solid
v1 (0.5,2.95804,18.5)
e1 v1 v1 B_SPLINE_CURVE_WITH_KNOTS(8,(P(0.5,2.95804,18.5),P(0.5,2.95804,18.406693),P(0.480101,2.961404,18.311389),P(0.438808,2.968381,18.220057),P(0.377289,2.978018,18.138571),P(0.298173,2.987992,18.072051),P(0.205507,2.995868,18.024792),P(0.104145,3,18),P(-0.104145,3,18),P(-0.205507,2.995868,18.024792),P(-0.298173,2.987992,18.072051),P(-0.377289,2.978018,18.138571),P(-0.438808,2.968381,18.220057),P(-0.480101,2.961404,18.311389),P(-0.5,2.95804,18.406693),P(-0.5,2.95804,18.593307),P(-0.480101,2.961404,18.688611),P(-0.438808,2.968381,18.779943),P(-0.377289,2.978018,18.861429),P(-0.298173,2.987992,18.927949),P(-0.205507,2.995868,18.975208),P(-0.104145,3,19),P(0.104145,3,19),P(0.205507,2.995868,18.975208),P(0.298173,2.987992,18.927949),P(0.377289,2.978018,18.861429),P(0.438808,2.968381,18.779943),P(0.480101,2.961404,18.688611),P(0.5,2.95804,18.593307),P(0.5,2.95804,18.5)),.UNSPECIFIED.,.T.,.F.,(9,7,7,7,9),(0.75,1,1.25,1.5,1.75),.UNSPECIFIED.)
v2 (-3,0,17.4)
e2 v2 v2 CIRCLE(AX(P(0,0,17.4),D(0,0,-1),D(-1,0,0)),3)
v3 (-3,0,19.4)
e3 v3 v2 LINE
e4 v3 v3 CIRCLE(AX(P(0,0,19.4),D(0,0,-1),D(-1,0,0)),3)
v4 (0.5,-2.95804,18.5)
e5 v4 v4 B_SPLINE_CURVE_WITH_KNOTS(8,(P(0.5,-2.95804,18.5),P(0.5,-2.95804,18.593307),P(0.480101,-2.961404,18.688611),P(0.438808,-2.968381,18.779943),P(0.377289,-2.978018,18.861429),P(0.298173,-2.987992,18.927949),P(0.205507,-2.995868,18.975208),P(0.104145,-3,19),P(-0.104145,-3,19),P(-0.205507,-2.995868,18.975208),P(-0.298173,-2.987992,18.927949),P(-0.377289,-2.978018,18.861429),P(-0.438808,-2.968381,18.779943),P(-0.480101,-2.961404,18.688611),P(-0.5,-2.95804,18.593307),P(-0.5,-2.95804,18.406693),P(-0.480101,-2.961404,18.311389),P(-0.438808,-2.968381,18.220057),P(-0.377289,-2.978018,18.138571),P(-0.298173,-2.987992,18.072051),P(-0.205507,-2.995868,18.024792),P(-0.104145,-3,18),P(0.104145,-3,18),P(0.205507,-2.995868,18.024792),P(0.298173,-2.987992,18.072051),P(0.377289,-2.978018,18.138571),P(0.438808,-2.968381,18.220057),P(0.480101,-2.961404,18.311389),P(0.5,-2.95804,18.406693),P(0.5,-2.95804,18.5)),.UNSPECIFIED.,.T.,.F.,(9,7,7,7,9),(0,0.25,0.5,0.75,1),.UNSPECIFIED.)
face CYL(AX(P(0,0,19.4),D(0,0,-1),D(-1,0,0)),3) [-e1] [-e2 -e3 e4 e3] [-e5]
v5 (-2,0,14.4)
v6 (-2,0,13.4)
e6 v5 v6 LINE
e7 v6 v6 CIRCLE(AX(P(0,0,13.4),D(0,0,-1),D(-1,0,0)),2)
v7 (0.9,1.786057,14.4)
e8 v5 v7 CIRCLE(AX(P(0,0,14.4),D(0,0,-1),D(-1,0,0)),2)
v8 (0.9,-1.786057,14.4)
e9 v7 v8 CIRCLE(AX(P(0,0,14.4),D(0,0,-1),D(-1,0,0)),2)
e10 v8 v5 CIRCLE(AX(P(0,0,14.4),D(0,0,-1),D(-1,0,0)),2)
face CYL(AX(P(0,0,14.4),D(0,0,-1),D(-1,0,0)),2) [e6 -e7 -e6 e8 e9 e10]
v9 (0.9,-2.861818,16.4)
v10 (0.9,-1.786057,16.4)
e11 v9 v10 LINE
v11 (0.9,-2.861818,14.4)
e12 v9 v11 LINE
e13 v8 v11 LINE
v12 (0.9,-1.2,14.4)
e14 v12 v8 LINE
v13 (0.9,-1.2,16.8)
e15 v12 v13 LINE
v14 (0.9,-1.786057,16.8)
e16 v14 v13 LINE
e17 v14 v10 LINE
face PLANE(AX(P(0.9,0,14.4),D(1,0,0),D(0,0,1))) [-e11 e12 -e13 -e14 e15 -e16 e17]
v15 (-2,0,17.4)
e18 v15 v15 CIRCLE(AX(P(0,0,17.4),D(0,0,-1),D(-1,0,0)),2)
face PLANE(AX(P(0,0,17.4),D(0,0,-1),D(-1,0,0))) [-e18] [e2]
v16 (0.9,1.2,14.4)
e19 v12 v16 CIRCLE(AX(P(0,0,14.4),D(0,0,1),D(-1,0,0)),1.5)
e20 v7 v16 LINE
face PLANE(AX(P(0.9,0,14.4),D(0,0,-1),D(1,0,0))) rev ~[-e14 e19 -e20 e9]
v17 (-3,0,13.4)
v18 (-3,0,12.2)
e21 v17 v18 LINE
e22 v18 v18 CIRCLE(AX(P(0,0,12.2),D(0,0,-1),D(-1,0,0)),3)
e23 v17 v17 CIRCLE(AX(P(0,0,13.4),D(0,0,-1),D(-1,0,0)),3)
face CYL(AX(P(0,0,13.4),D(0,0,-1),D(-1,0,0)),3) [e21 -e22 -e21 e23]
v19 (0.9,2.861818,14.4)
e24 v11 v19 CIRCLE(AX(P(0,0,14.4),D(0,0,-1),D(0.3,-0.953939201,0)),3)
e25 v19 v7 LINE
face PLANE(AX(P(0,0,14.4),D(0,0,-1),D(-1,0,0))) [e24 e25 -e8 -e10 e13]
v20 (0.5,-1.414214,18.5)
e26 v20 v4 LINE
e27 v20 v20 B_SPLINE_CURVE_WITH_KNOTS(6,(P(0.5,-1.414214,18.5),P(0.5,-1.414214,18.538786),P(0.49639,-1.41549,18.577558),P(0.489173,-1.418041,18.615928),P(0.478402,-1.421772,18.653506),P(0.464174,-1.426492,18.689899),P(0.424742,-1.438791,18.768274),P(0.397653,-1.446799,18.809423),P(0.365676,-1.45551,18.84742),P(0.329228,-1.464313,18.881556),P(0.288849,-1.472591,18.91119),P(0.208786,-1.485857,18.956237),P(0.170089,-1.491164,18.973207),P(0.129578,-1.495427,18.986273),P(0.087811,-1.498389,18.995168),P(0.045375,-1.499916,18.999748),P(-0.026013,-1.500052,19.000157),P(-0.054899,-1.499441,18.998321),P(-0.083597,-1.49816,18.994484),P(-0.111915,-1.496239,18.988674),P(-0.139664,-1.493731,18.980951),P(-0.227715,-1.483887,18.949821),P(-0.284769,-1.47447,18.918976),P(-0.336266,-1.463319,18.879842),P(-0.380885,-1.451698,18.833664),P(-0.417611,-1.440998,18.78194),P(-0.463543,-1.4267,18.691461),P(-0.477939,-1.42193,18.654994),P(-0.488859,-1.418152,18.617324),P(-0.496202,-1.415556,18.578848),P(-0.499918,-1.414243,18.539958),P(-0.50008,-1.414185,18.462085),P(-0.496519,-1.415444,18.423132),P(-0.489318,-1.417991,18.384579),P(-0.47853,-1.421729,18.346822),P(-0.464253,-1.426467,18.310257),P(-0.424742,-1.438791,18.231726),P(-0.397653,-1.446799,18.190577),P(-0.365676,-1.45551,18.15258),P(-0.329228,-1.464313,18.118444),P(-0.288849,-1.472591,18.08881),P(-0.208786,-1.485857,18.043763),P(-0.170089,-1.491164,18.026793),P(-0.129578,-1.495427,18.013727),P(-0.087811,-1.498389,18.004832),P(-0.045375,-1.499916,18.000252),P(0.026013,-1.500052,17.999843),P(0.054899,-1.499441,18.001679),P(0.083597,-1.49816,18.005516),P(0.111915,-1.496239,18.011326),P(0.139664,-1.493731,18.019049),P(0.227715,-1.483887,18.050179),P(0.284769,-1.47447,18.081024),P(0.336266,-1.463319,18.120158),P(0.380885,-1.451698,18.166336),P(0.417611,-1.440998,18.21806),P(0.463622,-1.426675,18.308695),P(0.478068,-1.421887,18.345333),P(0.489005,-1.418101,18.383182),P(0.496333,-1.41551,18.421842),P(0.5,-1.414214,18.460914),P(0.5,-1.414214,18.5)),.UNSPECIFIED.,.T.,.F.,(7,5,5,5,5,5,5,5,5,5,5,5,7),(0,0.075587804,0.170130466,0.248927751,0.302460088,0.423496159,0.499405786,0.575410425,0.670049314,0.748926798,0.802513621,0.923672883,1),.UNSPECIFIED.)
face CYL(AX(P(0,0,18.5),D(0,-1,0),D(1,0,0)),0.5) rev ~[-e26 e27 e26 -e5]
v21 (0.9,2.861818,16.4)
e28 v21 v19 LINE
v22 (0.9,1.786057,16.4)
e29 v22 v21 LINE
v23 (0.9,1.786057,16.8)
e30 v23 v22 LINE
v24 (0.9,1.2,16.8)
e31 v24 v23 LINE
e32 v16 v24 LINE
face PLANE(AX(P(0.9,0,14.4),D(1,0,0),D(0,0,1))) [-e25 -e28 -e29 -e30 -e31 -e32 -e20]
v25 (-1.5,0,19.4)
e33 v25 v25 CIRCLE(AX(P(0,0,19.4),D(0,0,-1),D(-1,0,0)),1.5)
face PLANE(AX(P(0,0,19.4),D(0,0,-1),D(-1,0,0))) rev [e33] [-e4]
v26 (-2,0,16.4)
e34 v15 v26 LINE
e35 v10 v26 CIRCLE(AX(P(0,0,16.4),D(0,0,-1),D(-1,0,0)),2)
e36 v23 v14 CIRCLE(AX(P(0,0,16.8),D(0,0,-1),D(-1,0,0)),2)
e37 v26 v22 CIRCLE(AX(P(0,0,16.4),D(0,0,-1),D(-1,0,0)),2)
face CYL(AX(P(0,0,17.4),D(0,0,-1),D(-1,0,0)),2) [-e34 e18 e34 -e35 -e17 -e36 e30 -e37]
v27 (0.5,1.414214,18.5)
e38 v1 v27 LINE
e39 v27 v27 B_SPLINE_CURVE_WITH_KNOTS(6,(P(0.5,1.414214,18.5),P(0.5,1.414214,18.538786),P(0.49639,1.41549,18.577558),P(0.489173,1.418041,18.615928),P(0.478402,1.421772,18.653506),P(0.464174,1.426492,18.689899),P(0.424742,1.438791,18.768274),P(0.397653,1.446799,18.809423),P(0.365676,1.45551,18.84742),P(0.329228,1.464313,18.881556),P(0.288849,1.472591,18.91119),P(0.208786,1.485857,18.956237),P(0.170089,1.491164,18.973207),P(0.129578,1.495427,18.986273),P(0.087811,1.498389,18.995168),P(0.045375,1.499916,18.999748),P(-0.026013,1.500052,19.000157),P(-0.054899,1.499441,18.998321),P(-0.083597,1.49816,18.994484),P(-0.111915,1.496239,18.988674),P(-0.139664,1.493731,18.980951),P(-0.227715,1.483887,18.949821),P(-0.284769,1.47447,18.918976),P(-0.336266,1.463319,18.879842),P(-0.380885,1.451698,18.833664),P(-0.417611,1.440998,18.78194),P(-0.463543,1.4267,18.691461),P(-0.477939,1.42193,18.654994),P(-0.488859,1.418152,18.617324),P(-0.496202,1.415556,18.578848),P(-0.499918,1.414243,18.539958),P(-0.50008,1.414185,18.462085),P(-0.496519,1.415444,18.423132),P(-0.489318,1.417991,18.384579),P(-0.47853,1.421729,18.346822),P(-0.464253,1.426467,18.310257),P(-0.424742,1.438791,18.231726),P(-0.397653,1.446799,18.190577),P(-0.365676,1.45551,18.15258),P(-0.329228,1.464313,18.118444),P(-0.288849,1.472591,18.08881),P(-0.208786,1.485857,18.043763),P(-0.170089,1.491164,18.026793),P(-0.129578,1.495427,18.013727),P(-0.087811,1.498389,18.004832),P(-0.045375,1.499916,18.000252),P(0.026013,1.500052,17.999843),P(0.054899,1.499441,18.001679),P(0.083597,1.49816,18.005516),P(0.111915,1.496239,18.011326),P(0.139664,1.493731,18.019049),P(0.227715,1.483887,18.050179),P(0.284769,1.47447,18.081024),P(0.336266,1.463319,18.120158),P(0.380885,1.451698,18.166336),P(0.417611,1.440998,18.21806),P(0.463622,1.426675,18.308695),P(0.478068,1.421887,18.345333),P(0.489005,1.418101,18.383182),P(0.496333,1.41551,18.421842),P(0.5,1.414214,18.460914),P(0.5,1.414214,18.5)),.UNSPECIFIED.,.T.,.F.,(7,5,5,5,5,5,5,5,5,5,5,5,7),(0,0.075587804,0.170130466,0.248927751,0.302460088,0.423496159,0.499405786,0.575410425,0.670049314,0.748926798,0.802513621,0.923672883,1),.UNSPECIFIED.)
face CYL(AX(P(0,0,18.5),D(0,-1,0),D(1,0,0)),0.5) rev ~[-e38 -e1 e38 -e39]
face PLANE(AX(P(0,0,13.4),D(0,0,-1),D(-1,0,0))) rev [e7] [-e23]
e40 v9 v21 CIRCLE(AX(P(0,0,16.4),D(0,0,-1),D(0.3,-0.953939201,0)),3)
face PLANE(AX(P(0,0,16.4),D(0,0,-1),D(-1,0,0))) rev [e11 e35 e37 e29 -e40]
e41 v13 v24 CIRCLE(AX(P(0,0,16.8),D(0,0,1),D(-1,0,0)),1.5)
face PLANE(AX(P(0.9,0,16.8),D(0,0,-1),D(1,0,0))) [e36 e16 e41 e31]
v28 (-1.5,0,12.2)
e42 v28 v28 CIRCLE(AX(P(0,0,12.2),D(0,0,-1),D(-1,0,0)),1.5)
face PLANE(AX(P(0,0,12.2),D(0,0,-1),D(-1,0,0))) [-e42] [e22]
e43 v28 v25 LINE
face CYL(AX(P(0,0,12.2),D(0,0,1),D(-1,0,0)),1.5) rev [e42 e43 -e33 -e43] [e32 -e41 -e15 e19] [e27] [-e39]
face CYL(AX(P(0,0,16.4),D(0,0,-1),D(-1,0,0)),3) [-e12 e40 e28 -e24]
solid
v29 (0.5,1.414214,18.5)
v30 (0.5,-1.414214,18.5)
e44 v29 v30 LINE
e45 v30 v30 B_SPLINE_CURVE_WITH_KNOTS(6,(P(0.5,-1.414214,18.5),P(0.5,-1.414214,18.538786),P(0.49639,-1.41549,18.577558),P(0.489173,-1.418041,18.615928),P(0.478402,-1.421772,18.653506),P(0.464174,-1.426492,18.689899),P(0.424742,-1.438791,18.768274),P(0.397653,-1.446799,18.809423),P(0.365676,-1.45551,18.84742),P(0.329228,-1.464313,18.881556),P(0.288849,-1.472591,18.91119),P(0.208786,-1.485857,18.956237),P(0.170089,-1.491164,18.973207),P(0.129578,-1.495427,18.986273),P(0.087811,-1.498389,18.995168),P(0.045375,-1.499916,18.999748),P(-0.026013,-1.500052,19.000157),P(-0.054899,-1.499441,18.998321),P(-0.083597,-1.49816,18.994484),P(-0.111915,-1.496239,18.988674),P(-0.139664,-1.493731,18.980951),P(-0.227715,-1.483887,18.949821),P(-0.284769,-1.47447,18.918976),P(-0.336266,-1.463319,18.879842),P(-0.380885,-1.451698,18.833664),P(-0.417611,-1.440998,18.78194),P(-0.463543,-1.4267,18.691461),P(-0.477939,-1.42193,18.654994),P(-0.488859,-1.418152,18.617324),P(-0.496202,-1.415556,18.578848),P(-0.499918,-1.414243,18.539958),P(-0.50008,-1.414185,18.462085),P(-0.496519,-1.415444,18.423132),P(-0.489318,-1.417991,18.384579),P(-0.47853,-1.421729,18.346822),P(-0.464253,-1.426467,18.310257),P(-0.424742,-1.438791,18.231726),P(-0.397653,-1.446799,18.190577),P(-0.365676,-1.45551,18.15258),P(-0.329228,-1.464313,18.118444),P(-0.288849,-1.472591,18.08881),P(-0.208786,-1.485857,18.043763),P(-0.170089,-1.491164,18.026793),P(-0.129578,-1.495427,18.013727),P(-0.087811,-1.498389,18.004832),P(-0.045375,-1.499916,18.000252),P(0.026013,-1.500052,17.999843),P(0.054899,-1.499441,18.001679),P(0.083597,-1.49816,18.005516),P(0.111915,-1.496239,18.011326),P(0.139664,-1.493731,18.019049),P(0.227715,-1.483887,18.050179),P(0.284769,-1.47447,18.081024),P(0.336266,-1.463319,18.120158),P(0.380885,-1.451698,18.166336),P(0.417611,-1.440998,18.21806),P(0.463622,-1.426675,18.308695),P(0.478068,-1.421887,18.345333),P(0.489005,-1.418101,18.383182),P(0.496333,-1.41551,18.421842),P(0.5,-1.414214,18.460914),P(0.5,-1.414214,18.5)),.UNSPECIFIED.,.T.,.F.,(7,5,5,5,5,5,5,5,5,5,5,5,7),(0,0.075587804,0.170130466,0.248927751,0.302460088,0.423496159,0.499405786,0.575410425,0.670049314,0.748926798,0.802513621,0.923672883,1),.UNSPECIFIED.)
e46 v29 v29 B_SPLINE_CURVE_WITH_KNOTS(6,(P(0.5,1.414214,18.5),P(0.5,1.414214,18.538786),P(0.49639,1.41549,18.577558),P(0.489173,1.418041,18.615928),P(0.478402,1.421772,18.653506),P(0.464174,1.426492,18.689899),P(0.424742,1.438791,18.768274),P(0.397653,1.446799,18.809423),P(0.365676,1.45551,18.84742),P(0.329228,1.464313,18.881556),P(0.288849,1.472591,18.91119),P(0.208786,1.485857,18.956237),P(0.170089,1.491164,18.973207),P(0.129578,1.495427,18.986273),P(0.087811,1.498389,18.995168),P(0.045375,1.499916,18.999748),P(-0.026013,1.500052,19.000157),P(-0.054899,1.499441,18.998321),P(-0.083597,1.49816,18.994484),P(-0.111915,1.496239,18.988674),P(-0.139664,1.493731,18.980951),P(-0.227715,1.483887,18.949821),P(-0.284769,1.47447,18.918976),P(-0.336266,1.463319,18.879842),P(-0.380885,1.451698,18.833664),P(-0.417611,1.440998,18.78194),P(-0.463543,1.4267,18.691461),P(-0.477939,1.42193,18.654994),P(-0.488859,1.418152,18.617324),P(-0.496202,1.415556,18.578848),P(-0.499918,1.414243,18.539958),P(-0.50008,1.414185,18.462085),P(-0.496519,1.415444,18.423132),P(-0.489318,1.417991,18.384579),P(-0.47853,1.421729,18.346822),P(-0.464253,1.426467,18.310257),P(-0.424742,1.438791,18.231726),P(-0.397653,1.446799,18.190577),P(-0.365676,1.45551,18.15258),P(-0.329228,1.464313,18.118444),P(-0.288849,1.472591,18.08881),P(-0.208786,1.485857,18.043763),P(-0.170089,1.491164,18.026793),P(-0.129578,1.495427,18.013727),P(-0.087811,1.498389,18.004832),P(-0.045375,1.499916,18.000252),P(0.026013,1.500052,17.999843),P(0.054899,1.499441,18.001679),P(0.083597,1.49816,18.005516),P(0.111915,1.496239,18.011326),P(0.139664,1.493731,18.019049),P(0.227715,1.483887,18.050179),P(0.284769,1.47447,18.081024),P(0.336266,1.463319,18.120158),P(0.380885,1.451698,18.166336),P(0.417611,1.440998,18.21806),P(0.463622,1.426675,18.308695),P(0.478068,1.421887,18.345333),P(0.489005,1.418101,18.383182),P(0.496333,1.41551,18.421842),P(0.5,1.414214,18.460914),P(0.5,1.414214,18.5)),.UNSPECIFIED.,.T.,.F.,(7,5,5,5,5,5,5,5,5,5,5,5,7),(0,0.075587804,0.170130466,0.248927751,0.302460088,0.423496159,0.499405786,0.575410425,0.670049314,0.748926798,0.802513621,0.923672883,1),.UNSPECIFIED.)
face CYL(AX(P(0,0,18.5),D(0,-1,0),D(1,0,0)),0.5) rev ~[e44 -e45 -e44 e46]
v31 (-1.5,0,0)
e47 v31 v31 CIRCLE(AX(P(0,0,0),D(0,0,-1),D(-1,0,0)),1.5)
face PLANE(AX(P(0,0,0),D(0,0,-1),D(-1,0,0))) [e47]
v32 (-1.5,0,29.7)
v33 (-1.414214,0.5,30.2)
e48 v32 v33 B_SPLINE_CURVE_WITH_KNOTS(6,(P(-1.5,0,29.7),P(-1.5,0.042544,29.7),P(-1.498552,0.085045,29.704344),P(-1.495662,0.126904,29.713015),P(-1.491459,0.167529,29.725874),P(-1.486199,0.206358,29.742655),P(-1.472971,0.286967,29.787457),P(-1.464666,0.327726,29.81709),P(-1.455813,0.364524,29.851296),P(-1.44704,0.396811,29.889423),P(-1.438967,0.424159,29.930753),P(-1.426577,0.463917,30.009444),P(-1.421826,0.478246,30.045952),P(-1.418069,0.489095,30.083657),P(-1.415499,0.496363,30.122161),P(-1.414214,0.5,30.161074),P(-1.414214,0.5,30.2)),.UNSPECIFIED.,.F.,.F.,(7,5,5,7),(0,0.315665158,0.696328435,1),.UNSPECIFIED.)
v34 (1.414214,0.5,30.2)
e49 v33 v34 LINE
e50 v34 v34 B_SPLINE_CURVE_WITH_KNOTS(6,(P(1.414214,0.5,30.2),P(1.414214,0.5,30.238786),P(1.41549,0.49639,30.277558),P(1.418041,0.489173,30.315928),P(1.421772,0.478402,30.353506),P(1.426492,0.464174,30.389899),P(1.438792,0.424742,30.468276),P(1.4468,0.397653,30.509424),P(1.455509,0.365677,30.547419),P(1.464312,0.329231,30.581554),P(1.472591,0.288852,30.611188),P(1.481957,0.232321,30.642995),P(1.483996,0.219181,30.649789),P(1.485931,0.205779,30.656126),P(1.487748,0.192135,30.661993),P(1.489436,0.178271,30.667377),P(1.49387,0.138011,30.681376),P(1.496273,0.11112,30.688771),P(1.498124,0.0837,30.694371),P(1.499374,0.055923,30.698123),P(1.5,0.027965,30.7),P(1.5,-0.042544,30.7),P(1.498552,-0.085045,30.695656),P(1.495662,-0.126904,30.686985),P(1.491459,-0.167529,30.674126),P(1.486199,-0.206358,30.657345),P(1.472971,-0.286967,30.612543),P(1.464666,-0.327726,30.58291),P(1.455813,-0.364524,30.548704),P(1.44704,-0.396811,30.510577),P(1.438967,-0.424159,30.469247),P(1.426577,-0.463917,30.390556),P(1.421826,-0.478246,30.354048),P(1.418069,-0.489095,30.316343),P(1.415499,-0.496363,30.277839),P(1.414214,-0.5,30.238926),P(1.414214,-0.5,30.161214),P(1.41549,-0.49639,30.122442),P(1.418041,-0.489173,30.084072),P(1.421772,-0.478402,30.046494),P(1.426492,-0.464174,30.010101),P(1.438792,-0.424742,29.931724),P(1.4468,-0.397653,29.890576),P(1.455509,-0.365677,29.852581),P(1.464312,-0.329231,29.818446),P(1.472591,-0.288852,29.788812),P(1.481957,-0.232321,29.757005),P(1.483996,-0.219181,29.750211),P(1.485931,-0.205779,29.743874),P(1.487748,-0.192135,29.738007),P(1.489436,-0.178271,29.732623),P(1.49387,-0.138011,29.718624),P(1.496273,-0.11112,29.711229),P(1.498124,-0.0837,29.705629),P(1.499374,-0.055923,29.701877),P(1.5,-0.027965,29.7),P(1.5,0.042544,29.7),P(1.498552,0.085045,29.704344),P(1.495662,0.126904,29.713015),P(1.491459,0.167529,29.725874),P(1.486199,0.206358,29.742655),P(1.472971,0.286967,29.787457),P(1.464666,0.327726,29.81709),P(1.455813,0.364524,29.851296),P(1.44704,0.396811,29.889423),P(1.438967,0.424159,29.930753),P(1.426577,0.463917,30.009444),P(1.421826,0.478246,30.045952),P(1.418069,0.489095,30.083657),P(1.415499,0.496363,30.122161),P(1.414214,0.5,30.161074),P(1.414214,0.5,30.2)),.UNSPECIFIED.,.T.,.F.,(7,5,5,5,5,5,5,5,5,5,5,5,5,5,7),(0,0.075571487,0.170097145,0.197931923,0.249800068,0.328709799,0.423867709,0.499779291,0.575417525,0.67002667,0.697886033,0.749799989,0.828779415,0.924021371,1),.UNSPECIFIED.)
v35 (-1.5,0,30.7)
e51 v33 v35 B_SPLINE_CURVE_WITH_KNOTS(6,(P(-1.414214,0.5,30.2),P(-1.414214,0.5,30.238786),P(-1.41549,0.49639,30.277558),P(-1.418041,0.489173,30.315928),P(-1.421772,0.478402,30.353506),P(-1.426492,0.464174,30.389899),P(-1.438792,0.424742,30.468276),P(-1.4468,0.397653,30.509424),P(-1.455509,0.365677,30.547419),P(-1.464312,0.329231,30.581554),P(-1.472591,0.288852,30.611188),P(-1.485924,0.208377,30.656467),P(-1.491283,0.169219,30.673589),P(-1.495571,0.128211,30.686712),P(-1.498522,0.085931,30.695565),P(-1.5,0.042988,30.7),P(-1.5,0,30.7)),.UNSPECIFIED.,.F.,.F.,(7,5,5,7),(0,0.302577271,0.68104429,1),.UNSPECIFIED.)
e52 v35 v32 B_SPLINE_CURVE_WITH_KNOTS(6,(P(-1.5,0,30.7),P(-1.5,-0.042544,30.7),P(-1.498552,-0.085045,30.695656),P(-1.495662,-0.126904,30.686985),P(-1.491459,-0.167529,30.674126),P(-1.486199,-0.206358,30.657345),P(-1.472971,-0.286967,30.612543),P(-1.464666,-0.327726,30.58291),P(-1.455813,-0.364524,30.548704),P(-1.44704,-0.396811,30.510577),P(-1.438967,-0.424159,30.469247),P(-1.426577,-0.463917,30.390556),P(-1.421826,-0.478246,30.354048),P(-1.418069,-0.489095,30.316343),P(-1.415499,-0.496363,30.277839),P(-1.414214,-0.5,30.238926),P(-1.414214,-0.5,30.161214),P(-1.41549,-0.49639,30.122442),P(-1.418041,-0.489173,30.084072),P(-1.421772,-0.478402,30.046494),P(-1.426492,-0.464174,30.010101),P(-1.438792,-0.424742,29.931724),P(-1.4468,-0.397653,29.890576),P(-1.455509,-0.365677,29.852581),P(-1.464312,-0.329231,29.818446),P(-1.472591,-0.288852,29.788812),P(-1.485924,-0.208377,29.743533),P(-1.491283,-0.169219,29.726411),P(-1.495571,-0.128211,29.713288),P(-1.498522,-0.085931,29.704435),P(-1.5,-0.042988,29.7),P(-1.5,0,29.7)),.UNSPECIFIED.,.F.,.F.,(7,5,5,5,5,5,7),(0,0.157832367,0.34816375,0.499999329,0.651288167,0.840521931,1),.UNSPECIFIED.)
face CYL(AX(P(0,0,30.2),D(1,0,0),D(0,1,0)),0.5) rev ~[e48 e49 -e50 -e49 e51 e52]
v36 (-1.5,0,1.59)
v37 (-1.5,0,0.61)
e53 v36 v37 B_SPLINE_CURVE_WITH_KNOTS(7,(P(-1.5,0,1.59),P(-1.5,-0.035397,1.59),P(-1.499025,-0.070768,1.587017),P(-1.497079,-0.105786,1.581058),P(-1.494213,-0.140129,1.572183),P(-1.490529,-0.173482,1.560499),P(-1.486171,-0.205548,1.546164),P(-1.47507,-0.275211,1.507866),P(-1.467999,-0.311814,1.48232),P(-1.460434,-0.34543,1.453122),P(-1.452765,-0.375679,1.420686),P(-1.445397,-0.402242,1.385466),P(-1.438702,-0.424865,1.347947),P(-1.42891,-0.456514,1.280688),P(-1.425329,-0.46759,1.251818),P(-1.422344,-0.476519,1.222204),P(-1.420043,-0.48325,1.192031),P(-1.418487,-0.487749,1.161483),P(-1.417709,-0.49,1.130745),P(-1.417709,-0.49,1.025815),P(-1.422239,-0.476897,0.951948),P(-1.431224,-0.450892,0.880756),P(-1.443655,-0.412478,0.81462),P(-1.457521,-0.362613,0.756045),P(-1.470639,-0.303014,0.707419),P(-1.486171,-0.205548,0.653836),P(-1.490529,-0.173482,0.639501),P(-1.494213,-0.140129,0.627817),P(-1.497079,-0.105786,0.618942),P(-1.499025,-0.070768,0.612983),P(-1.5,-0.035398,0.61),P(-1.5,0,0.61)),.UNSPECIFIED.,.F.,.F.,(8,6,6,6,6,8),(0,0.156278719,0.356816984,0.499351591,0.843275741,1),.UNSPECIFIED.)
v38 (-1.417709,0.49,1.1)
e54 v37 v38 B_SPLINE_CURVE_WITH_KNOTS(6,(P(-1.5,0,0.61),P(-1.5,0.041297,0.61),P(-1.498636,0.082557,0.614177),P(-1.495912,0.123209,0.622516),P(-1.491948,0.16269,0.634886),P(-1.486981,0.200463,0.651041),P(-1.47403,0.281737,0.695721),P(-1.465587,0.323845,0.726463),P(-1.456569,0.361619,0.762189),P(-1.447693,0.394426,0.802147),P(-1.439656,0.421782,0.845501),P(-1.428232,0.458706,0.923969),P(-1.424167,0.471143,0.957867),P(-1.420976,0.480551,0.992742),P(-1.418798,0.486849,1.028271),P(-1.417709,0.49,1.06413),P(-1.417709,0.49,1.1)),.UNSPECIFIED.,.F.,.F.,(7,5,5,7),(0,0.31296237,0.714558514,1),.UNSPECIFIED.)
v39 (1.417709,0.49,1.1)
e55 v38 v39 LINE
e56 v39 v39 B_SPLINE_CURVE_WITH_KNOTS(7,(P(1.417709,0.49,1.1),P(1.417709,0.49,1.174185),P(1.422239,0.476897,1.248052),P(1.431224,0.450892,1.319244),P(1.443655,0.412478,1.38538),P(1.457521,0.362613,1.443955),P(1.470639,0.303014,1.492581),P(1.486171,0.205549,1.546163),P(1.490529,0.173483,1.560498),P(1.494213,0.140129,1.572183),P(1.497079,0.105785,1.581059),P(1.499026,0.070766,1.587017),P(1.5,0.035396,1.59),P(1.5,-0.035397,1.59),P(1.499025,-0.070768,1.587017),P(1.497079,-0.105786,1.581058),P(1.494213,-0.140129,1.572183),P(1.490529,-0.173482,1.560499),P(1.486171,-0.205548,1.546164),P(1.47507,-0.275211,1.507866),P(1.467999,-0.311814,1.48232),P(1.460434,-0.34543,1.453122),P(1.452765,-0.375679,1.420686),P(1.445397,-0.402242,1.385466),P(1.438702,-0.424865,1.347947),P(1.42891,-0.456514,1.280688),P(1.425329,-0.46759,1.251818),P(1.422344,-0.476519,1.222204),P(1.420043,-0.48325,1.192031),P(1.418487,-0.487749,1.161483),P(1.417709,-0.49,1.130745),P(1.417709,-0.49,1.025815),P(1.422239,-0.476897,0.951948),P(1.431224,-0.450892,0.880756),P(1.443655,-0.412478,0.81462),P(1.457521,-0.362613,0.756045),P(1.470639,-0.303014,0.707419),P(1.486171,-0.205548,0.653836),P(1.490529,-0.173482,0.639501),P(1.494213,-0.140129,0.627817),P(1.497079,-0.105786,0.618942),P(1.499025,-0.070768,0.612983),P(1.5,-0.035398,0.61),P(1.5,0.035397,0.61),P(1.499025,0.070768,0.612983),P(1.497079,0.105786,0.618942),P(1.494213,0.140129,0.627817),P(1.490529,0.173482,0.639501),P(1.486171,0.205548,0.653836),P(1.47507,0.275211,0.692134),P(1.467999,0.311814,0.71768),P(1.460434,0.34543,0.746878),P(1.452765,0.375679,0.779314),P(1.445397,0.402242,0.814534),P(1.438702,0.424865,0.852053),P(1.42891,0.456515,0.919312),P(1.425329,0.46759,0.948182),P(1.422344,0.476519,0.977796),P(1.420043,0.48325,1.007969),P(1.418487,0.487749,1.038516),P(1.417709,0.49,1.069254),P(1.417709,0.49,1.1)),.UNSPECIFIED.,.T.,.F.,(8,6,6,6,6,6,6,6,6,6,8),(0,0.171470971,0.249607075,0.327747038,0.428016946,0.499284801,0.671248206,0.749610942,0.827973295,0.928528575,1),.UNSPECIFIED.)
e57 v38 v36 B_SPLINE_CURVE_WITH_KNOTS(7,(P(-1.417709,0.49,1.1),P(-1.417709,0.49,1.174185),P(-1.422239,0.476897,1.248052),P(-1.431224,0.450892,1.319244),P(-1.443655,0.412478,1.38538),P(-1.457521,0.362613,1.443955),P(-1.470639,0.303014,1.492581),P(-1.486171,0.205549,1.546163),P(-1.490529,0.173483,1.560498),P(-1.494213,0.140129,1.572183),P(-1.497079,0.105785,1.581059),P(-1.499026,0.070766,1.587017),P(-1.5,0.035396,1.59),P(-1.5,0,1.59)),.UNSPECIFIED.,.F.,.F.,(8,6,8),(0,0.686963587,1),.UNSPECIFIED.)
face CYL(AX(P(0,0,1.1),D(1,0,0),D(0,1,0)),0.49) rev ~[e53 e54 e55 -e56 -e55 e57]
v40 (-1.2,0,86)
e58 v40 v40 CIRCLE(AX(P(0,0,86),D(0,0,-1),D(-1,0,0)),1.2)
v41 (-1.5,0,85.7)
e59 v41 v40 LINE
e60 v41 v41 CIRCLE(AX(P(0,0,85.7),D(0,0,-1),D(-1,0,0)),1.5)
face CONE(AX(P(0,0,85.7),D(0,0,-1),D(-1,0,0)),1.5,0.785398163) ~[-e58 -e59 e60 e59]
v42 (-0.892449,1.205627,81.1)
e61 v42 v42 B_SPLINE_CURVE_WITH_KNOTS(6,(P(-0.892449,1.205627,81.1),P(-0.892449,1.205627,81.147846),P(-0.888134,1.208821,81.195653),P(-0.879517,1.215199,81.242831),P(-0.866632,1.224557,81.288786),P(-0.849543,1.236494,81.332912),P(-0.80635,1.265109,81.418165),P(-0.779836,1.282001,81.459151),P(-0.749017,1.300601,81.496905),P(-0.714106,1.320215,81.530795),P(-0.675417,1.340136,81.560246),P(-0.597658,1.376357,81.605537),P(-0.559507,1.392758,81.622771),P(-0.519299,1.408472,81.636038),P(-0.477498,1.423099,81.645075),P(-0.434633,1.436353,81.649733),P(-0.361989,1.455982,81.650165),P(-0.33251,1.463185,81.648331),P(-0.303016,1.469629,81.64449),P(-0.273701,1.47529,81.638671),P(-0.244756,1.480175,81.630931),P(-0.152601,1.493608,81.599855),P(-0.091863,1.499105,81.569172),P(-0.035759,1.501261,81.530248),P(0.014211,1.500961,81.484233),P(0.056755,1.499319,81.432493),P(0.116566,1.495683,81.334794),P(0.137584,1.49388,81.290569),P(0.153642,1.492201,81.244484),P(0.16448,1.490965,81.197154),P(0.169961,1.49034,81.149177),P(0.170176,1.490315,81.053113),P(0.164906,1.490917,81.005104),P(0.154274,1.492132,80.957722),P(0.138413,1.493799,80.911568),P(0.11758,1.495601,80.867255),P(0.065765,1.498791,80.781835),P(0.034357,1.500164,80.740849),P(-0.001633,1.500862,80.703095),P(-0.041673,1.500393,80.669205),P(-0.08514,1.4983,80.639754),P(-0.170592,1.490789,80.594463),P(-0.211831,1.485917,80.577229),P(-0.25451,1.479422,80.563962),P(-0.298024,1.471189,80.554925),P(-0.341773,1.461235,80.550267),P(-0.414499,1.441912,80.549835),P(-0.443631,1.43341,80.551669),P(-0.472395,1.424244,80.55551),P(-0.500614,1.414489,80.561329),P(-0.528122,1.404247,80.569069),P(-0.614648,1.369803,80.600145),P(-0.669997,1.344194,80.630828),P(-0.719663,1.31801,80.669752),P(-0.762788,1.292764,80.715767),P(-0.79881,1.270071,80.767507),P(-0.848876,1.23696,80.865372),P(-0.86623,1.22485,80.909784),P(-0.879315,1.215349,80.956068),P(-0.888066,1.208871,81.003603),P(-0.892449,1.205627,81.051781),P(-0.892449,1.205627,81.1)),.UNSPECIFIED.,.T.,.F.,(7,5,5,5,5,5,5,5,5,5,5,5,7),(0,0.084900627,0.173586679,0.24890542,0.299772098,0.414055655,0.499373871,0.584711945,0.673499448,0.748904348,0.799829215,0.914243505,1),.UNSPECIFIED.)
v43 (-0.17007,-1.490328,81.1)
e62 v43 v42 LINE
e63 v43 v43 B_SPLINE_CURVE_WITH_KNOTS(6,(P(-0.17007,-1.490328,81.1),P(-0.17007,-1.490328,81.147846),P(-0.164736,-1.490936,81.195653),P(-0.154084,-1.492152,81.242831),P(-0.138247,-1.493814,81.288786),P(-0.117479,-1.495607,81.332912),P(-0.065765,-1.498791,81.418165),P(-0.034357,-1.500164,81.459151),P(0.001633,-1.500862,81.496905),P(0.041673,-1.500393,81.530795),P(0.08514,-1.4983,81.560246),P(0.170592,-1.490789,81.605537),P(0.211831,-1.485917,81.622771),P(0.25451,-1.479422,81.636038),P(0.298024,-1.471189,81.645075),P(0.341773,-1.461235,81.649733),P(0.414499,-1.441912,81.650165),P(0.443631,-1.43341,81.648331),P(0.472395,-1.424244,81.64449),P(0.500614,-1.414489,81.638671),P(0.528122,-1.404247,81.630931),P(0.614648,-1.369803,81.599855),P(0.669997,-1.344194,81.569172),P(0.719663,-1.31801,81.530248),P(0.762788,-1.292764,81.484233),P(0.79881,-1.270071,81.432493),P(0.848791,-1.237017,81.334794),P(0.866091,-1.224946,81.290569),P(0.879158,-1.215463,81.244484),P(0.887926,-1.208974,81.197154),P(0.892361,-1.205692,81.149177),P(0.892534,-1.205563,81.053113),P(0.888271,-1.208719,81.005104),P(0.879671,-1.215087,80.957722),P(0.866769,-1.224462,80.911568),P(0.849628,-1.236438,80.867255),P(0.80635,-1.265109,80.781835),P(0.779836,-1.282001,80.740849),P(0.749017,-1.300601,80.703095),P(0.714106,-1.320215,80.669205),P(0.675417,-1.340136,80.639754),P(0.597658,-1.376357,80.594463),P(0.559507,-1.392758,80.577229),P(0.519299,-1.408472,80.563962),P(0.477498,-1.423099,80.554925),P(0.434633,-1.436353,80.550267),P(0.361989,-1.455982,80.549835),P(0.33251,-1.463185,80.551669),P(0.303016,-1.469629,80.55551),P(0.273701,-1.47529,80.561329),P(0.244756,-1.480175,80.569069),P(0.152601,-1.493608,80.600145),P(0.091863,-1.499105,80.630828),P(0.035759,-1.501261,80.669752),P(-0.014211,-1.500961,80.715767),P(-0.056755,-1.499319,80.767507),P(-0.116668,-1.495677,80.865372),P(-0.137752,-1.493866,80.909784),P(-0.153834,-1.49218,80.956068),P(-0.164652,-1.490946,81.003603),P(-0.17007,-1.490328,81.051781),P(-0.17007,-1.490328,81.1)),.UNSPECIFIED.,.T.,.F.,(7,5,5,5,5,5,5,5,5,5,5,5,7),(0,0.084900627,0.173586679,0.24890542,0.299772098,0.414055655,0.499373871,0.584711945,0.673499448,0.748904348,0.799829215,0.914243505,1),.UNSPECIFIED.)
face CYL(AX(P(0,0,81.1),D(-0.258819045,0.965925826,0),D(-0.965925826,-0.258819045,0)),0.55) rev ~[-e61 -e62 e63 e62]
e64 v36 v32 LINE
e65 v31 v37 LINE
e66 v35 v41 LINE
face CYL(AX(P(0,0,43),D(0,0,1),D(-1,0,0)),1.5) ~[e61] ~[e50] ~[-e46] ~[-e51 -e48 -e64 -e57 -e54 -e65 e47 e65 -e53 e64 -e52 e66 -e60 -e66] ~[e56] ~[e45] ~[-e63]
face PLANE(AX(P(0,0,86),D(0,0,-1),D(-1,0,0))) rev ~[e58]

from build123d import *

# Parameters (mm, degrees)
F0_W      = 1.5
F0_H      = 86
F2_SIZE2  = 0.3
F2_SIZE   = 0.3
F4_R      = 0.55
F5_DEPTH  = 4
F7_R      = 0.49
F8_DEPTH  = 2
F11_W     = 2.1
F11_H     = 2.4
F12_DEPTH = 3
F6_R      = 0.5
F13_DEPTH = 3
F14_R     = 0.5
F15_DEPTH = 2.5


with BuildPart() as f1:
    # F0 (on Front) → F1 (revolve)
    with BuildSketch(Plane.XZ):
        with Locations((-0.75, 43)):
            Rectangle(F0_W, F0_H)
    revolve(axis=Axis((0, 0, 43), (0, 0, -1)))

    # F2
    f2_edges = [f1.edges().sort_by_distance(p)[0] for p in [
        (1.5, 0, 86),
    ]]
    chamfer(f2_edges, length=F2_SIZE, length2=F2_SIZE2)

    # F4 (on face) → F5 (cut, symmetric)
    with BuildSketch(Plane(origin=(0, 0, 0), x_dir=(-0.9659258263, -0.2588190451, 0), z_dir=(-0.2588190451, 0.9659258263, 0))):
        with Locations((0, 81.1)):
            Circle(F4_R)
    extrude(amount=F5_DEPTH, both=True, mode=Mode.SUBTRACT)

    # F7 (on Right) → F8 (cut, symmetric)
    with BuildSketch(Plane.YZ):
        with Locations((0, 1.1)):
            Circle(F7_R)
    extrude(amount=F8_DEPTH, both=True, mode=Mode.SUBTRACT)


with BuildPart() as f10:
    # F9 (on Front) → F10 (revolve)
    with BuildSketch(Plane.XZ):
        Polygon((-3, 12.2), (-1.5, 12.2), (-1.5, 19.4), (-3, 19.4), (-3, 17.4), (-2, 17.4), (-2, 16.4), (-3, 16.4), (-3, 14.4), (-2, 14.4), (-2, 13.4), (-3, 13.4), align=None)
    revolve(axis=Axis((0, 0, 86), (0, 0, -1)))

    # F11 (on Front) → F12 (cut, symmetric)
    with BuildSketch(Plane.XZ):
        with Locations((1.95, 15.6)):
            Rectangle(F11_W, F11_H)
    extrude(amount=F12_DEPTH, both=True, mode=Mode.SUBTRACT)


with BuildPart() as f13_tool:
    # F6 (on Front) → F13 (new body, symmetric)
    with BuildSketch(Plane.XZ):
        with Locations((0, 18.5)):
            Circle(F6_R)
    extrude(amount=F13_DEPTH, both=True)


with BuildPart() as f1_1:
    add(f1.part)

    # F13: cut by f13_tool
    add(f13_tool.part, mode=Mode.SUBTRACT)

    # F14 (on Right) → F15 (cut, symmetric)
    with BuildSketch(Plane.YZ):
        with Locations((0, 30.2)):
            Circle(F14_R)
    extrude(amount=F15_DEPTH, both=True, mode=Mode.SUBTRACT)


with BuildPart() as f10_1:
    add(f10.part)

    # F13: cut by f13_tool
    add(f13_tool.part, mode=Mode.SUBTRACT)


solid = Compound([f1_1.part, f10_1.part])
